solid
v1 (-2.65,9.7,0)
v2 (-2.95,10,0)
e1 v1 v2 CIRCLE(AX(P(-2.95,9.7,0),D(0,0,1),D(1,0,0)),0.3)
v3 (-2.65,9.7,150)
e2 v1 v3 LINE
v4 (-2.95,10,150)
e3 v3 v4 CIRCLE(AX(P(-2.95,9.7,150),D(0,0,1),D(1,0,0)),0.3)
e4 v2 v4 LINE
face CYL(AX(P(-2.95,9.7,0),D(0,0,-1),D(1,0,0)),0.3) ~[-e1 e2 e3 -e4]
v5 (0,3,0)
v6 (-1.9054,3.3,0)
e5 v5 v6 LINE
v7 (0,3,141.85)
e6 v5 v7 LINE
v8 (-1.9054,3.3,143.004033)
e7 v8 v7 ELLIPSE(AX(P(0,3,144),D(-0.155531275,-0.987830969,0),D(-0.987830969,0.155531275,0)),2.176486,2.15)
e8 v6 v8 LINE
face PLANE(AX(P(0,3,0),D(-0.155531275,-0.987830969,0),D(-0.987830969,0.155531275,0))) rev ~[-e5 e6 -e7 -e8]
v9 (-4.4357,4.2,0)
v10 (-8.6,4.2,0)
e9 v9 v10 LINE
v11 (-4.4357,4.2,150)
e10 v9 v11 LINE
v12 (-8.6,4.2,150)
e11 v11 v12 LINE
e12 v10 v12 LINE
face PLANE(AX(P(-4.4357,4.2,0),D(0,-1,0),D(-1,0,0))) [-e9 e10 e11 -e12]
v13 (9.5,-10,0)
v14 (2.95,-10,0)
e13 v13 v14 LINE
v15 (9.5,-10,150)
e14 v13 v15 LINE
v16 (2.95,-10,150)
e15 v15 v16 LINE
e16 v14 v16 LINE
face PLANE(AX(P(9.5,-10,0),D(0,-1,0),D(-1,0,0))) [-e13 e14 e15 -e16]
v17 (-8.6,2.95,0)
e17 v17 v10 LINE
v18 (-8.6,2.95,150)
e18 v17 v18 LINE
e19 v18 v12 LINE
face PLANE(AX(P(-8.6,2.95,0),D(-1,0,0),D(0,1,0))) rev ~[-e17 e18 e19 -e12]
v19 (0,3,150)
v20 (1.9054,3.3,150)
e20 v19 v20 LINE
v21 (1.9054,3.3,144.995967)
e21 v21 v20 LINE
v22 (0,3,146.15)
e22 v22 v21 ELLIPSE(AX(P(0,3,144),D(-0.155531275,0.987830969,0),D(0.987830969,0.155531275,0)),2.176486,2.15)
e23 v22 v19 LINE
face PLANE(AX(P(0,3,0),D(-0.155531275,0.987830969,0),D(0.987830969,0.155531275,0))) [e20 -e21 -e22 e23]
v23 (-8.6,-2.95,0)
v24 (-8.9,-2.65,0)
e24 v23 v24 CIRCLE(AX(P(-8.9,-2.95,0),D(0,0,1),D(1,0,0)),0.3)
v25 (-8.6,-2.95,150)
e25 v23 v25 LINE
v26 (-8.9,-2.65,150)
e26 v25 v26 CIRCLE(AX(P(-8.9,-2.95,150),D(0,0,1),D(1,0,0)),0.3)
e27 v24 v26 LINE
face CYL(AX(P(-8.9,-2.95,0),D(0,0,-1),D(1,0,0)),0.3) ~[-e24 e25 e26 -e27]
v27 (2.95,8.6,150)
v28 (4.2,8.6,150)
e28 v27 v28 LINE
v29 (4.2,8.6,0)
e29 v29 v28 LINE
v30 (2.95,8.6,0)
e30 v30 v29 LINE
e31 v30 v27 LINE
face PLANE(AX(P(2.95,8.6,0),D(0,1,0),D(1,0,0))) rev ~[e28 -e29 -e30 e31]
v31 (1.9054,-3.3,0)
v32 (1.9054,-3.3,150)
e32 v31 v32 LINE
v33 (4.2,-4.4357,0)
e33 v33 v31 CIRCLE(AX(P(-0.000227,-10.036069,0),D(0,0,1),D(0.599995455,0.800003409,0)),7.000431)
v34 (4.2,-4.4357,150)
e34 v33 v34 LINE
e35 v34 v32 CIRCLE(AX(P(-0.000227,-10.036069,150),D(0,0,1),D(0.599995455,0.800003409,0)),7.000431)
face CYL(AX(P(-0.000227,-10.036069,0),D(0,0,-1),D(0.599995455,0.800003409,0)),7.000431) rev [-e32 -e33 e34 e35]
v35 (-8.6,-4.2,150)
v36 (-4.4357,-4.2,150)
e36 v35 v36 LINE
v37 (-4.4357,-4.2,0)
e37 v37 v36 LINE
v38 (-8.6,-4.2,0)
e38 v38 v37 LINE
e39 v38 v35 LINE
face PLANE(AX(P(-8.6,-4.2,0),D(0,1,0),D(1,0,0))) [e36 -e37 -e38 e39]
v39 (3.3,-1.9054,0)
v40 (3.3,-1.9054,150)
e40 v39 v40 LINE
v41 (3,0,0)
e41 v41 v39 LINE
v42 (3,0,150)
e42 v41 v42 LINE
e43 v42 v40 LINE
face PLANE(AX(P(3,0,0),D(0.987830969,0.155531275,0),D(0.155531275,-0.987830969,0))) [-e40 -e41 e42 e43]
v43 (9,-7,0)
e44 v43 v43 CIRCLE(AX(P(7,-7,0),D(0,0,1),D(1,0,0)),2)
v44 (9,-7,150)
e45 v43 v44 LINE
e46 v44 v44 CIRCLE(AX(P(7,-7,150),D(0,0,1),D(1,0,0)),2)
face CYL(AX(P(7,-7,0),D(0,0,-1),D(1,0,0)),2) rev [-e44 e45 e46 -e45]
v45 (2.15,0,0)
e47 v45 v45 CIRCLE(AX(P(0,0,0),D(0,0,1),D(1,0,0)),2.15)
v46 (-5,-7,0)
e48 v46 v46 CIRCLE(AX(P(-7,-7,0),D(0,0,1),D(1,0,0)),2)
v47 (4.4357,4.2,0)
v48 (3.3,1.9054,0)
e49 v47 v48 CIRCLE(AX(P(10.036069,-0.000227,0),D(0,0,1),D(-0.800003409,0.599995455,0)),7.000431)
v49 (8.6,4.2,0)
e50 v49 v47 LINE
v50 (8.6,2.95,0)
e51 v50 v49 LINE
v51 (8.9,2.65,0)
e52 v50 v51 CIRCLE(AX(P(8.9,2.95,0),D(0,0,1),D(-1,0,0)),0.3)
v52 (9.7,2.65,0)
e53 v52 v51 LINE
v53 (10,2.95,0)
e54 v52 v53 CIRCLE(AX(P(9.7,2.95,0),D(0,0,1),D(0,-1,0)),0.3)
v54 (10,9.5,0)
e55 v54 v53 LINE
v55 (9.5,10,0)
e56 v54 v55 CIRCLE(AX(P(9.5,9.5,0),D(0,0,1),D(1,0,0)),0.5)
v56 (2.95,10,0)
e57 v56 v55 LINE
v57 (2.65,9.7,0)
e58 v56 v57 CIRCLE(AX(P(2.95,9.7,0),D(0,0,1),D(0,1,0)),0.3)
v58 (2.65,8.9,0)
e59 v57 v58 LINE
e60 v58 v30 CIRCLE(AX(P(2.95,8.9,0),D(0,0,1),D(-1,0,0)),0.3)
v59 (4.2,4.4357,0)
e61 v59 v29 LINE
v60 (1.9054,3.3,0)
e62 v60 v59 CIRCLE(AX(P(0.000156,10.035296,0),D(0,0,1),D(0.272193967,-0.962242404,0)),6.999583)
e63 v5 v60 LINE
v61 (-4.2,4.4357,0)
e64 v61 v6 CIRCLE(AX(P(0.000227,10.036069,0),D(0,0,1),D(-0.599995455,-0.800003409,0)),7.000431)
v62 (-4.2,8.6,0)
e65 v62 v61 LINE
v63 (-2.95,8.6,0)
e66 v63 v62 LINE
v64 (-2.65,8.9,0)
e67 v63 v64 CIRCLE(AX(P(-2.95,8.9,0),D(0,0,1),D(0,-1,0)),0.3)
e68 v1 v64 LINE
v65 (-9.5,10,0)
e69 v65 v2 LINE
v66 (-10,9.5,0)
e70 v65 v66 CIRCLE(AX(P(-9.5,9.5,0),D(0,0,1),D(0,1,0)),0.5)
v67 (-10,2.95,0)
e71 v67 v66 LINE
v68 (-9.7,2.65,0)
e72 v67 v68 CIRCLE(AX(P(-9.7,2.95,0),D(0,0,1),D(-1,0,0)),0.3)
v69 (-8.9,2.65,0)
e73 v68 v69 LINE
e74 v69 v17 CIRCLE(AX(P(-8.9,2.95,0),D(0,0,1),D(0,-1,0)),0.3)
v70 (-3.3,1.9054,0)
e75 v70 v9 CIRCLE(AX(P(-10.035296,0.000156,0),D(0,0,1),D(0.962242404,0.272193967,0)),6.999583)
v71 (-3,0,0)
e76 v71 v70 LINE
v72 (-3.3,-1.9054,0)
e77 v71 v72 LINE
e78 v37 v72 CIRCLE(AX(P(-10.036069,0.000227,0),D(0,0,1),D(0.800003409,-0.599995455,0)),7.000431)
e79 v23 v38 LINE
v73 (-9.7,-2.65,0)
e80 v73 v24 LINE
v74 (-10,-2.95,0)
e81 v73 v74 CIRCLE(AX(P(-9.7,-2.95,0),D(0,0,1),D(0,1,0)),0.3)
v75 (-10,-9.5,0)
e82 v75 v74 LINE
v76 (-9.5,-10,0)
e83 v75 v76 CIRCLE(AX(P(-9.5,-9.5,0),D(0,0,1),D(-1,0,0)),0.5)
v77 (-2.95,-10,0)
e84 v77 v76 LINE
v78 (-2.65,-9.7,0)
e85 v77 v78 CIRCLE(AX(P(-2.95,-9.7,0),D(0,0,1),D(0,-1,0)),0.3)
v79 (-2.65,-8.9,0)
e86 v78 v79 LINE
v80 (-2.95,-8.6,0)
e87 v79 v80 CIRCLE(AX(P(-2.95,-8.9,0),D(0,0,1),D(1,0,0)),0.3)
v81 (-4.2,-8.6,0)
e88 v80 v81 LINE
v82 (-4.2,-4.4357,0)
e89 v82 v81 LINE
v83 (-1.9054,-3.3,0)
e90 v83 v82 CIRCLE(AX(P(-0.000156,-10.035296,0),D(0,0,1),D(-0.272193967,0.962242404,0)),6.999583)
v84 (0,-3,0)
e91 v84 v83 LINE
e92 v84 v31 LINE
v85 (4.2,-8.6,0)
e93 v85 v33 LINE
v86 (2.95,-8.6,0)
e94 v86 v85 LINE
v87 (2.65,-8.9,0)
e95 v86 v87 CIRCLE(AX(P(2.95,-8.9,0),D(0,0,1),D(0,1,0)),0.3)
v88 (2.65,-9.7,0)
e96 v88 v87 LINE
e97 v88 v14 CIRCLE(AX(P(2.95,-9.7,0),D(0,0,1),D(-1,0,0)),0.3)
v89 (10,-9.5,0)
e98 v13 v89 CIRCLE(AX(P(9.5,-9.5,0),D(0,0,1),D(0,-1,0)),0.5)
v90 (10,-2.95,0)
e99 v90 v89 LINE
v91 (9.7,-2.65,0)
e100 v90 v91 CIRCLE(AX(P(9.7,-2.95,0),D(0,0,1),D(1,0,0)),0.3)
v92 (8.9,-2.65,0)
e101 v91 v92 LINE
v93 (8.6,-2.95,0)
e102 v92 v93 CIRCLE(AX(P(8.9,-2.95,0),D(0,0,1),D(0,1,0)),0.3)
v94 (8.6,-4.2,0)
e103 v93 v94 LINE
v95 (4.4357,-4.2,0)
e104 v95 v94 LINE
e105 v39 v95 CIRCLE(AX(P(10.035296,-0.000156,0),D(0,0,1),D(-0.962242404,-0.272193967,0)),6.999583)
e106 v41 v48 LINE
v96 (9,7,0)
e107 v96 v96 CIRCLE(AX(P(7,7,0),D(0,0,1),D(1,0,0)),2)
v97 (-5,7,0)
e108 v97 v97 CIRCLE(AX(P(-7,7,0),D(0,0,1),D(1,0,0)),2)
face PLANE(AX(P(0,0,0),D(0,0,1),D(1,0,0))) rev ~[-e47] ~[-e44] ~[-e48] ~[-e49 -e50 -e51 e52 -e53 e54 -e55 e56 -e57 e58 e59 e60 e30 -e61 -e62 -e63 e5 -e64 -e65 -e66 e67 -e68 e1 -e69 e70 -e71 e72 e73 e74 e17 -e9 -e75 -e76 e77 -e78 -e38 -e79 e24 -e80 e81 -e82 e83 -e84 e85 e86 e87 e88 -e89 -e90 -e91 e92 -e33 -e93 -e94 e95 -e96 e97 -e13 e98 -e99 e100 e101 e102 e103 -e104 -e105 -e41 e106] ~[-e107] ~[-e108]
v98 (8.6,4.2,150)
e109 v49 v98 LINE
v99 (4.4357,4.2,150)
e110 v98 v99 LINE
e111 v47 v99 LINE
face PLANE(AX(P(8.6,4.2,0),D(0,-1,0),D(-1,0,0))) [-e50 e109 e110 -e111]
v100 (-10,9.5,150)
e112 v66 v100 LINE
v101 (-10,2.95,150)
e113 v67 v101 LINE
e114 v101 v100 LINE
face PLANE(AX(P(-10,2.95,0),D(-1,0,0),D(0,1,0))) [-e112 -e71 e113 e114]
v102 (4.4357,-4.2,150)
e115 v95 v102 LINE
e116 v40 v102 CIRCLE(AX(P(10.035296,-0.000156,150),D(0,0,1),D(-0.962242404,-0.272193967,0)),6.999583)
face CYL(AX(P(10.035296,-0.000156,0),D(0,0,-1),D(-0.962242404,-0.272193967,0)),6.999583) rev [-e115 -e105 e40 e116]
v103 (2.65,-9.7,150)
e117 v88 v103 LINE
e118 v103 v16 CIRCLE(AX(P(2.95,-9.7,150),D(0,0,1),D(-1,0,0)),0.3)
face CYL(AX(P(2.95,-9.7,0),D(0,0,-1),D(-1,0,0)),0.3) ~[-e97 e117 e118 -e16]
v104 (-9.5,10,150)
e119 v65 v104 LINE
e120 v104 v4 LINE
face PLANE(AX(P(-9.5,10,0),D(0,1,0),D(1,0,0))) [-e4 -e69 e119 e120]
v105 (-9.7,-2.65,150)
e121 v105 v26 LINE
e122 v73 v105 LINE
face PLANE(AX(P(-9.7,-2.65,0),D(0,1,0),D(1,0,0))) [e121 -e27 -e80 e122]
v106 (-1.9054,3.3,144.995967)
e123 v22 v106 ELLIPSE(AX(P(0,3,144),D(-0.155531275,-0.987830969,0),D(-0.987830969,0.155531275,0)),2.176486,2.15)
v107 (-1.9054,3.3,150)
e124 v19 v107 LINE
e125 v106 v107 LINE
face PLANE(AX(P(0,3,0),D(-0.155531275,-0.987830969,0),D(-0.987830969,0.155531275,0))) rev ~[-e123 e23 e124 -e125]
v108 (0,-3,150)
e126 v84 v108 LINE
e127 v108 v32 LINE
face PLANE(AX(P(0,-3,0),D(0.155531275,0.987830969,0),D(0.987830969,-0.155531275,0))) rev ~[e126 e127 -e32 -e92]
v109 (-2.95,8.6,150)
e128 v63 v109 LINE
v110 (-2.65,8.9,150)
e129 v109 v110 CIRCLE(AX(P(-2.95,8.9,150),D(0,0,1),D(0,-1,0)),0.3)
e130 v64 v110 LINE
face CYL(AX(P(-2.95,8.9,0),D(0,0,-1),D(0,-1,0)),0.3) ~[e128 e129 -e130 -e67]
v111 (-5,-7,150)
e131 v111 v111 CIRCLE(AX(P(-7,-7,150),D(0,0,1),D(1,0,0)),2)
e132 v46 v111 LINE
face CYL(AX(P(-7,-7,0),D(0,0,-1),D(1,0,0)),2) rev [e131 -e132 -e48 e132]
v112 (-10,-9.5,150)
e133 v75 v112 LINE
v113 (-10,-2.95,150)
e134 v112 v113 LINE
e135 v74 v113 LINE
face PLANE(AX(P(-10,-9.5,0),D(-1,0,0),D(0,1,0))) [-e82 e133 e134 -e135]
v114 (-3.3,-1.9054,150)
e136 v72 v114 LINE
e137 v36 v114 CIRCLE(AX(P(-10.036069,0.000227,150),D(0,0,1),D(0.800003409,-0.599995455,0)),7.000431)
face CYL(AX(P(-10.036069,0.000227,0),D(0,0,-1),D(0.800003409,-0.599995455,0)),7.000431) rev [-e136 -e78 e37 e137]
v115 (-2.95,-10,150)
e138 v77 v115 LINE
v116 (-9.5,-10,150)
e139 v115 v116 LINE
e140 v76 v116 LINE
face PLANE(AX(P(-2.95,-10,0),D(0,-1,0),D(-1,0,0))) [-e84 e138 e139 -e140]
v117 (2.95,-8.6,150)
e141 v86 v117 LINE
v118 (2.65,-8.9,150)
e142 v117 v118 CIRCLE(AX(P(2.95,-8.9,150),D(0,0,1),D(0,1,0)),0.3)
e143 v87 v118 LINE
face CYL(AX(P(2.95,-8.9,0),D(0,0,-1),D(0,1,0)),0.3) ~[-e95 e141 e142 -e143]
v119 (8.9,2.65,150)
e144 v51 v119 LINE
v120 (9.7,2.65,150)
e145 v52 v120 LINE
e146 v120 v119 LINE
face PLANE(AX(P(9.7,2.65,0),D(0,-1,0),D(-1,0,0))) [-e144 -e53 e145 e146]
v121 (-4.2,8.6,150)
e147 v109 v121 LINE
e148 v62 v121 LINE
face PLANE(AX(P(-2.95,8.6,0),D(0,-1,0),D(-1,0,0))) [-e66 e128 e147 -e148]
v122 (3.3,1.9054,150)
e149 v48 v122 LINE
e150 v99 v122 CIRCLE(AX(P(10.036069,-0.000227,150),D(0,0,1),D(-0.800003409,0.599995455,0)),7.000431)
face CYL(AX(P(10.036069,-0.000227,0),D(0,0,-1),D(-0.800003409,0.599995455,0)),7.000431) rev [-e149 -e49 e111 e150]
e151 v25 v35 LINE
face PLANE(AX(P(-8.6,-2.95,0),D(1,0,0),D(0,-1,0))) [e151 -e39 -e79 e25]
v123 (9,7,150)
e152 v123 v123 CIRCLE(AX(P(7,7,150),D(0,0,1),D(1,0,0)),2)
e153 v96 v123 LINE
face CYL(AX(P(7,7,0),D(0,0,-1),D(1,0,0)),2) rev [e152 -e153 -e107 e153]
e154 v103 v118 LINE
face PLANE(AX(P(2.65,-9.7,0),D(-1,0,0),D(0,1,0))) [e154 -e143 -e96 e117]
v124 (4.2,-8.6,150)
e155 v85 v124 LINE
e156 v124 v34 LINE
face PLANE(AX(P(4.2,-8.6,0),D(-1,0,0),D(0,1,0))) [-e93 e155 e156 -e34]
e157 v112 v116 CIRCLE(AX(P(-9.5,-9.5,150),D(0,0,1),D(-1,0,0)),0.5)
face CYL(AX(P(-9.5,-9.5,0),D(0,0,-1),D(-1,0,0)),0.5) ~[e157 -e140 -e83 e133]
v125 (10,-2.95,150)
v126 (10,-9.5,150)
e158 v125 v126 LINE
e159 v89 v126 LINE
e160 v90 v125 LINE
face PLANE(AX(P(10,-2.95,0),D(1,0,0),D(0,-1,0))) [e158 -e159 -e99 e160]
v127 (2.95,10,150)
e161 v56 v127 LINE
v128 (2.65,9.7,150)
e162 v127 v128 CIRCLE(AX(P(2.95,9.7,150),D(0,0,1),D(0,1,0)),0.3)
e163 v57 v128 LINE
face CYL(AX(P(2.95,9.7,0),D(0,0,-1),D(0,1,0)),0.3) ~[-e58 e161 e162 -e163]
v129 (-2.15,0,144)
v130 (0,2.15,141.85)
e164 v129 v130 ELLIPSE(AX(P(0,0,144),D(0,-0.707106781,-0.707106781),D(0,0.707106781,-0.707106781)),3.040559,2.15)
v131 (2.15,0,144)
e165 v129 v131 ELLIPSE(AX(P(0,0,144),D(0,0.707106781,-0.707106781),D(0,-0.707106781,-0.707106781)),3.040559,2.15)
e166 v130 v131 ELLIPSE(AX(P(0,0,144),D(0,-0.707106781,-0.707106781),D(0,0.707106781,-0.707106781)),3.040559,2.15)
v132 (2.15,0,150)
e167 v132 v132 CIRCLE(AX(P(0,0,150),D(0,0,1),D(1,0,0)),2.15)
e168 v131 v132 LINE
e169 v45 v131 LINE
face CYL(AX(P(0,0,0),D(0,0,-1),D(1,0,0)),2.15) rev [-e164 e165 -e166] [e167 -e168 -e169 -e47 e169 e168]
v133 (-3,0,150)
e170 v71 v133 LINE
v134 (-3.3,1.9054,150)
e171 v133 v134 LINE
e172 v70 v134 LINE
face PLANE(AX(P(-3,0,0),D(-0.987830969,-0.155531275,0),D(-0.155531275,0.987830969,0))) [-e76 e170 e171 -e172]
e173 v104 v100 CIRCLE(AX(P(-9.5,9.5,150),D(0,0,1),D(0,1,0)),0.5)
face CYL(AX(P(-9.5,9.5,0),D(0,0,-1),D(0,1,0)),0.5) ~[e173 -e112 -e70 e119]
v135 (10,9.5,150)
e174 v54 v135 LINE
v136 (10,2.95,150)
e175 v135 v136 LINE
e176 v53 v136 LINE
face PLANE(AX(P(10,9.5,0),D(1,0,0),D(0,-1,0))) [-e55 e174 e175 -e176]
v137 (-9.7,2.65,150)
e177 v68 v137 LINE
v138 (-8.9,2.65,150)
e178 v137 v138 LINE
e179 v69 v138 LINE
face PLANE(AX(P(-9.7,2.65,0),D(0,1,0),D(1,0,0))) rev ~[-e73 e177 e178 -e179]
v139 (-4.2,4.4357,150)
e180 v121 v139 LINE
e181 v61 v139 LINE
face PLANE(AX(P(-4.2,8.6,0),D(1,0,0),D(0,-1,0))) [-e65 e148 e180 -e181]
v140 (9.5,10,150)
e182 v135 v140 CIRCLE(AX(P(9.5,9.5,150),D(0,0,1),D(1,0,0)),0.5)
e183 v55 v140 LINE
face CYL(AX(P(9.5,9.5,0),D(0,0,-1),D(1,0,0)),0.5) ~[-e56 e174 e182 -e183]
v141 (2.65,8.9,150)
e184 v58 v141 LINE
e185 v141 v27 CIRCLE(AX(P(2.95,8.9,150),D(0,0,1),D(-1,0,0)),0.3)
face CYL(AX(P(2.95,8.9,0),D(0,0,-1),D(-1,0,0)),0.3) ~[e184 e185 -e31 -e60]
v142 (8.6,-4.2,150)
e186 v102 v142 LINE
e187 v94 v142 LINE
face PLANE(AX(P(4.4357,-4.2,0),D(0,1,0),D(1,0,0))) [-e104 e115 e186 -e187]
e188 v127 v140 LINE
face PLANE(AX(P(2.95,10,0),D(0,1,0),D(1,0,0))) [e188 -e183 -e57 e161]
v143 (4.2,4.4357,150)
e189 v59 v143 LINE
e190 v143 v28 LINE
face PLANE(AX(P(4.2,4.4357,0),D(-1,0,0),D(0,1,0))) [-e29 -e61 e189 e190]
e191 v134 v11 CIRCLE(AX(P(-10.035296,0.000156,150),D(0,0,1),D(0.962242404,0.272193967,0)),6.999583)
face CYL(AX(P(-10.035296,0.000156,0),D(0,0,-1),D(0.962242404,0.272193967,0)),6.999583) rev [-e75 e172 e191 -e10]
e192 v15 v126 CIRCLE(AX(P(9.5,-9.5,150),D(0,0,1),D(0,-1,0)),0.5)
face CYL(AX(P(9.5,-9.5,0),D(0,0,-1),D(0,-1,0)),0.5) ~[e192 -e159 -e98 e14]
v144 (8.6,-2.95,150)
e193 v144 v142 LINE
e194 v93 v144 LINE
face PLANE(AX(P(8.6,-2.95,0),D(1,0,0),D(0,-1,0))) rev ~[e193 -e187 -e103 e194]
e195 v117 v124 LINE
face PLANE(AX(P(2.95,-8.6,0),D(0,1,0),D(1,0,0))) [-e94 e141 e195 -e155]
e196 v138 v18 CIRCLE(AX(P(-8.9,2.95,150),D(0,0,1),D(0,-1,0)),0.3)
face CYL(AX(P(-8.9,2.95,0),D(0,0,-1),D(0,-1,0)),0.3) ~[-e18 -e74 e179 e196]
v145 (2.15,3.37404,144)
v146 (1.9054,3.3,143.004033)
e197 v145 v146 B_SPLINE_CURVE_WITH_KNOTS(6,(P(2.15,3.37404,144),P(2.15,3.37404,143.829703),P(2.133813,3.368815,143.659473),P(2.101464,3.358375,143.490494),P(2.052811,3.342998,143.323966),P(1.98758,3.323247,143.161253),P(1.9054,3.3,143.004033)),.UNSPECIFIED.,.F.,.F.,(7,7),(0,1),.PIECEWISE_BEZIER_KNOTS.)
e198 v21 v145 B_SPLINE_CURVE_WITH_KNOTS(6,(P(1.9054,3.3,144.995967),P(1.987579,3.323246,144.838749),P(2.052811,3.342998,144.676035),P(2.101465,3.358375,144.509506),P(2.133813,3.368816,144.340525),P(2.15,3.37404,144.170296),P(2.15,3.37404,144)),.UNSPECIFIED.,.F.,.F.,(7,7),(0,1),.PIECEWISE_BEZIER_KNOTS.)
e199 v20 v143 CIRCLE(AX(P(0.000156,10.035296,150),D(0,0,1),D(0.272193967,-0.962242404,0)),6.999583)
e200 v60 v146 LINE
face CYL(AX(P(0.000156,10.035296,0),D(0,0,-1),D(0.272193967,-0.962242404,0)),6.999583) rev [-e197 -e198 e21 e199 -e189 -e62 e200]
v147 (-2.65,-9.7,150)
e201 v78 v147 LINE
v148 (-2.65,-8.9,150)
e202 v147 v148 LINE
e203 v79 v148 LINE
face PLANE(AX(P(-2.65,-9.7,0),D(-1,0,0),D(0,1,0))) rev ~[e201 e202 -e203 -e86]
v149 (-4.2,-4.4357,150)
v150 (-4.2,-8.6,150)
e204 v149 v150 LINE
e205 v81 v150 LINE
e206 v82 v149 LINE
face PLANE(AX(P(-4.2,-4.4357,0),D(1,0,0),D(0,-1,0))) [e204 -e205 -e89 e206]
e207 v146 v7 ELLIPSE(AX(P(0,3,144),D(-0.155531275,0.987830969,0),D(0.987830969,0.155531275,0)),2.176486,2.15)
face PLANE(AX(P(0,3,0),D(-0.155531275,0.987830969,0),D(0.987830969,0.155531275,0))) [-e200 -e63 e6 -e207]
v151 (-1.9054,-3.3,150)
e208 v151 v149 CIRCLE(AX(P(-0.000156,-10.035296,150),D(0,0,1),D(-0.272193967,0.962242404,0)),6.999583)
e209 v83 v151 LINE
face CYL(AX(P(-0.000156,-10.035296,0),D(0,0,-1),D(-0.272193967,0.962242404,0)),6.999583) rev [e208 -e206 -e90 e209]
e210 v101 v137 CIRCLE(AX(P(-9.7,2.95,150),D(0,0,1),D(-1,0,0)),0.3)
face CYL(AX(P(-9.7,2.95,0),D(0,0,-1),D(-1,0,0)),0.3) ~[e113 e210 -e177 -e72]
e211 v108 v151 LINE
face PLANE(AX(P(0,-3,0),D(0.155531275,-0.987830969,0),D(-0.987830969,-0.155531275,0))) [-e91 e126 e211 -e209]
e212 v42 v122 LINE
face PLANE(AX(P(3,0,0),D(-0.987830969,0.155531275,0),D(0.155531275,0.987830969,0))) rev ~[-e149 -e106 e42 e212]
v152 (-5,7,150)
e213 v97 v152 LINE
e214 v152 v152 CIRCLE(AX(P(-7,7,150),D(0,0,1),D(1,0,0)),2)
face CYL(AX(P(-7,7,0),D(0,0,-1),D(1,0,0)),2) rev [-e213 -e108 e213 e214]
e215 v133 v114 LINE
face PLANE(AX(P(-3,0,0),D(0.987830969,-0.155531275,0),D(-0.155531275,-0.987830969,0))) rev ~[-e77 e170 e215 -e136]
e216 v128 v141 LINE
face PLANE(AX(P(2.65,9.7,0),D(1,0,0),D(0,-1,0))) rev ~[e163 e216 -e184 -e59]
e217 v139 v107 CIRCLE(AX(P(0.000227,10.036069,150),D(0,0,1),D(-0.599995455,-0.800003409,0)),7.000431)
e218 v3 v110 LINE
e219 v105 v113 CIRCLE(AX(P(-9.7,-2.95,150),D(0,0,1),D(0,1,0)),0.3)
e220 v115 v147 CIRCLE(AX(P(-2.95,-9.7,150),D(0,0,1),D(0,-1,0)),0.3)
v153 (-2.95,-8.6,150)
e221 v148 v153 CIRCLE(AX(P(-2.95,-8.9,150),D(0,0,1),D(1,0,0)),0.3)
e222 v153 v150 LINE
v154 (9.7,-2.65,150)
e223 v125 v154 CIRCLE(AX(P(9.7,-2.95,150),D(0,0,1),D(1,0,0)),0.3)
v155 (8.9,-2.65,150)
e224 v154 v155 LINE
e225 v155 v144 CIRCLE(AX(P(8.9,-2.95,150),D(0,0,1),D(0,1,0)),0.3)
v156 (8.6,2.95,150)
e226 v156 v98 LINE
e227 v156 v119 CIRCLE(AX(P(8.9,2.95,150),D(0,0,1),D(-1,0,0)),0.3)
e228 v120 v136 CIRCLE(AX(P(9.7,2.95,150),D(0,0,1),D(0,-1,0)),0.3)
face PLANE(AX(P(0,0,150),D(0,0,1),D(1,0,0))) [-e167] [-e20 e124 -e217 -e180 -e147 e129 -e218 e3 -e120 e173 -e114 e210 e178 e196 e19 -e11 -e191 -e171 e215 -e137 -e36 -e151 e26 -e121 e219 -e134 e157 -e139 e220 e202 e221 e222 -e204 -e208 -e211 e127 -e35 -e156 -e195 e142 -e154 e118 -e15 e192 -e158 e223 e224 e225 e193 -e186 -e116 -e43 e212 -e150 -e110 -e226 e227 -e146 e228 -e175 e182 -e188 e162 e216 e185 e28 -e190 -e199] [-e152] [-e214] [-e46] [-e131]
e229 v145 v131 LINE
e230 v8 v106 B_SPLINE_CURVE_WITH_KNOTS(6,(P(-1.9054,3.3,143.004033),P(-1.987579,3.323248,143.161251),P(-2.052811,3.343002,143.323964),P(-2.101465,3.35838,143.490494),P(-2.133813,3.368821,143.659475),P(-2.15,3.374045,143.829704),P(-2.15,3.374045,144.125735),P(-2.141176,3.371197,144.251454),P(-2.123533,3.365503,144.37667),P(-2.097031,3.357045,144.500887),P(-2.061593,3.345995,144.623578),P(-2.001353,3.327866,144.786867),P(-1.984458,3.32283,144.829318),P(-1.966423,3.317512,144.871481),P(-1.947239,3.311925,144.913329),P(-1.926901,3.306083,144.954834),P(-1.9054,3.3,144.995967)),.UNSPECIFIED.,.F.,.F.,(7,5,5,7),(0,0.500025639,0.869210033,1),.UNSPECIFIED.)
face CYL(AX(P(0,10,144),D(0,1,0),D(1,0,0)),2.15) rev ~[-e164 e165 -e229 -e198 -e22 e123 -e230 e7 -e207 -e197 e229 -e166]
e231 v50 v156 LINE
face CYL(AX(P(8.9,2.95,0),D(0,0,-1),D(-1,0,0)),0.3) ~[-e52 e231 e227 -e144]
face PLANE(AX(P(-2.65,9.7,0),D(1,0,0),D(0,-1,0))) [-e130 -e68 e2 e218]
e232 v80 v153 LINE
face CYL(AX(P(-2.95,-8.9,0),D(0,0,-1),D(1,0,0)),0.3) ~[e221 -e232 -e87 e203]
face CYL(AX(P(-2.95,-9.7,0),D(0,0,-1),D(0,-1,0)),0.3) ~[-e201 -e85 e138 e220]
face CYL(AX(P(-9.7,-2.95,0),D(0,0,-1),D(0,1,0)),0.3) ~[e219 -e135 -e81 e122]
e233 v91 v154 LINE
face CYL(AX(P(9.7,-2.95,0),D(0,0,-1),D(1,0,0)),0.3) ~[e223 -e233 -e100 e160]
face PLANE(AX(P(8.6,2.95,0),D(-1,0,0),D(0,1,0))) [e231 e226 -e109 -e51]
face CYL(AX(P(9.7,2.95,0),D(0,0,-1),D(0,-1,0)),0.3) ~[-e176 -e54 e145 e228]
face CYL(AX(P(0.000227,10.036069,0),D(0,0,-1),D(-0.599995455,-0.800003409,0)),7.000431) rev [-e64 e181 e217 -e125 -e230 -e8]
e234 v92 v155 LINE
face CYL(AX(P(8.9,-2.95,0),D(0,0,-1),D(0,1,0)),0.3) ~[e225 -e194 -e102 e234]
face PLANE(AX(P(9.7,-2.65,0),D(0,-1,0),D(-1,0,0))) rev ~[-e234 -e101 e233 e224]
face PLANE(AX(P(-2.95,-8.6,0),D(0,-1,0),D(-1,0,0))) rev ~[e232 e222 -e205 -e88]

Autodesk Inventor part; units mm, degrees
ref_plane "YZ Plane" through (0, 0, 0) normal (1, 0, 0) x (0, 1, 0)
ref_plane "XZ Plane" through (0, 0, 0) normal (0, 1, 0) x (-1, 0, 0)
ref_plane "XY Plane" through (0, 0, 0) normal (0, 0, 1) x (1, 0, 0)
sketch "Sketch1" plane through (0, 0, 0) normal (0, 0, 1) x (1, 0, 0)
  line L0 (0, 0) -> (12.2143, 12.2143) construction
  line L1 (0, 0) -> (10, 0) construction
  circle A0 centre (0, 0) radius 2.15
  circle A1 centre (7, 7) radius 2
  circle A2 centre (-7, 7) radius 2
  circle A3 centre (-7, -7) radius 2
  circle A4 centre (7, -7) radius 2
  line L2 (2.95, 10) -> (9.5, 10)
  line L3 (10, 9.5) -> (10, 2.95)
  line L4 (9.7, 2.65) -> (8.9, 2.65)
  line L5 (8.6, 2.95) -> (8.6, 4.2)
  line L6 (4.2, 4.4357) -> (4.2, 8.6)
  line L7 (2.65, 9.7) -> (2.65, 8.9)
  line L8 (2.95, 8.6) -> (4.2, 8.6)
  line L9 (0, 14.2934) -> (0, -14.2934) construction
  arc A5 (2.95, 10) -> (2.65, 9.7) centre (2.95, 9.7) ccw
  arc A6 (2.65, 8.9) -> (2.95, 8.6) centre (2.95, 8.9) ccw
  arc A7 (8.6, 2.95) -> (8.9, 2.65) centre (8.9, 2.95) ccw
  arc A8 (9.7, 2.65) -> (10, 2.95) centre (9.7, 2.95) ccw
  arc A9 (10, 9.5) -> (9.5, 10) centre (9.5, 9.5) ccw
  circle A10 centre (0, 7.1516) radius 5.0016 construction
  circle A11 centre (7.1516, 0) radius 5.0016 construction
  line L10 (8.6, 4.2) -> (4.4357, 4.2)
  line L11 (0, 3) -> (1.9054, 3.3)
  arc A12 (1.9054, 3.3) -> (4.2, 4.4357) centre (0, 10.0357) ccw
  line L12 (3, 0) -> (3.3, 1.9054)
  arc A13 (4.4357, 4.2) -> (3.3, 1.9054) centre (10.0357, 0) ccw
  line L13 (-3, 0) -> (-3.3, 1.9054)
  arc A14 (-3.3, 1.9054) -> (-4.4357, 4.2) centre (-10.0357, 0) ccw
  arc A15 (-4.2, 4.4357) -> (-1.9054, 3.3) centre (0, 10.0357) ccw
  line L14 (0, 3) -> (-1.9054, 3.3)
  line L15 (-4.4357, 4.2) -> (-8.6, 4.2)
  line L16 (-8.6, 2.95) -> (-8.6, 4.2)
  arc A16 (-8.9, 2.65) -> (-8.6, 2.95) centre (-8.9, 2.95) ccw
  line L17 (-9.7, 2.65) -> (-8.9, 2.65)
  arc A17 (-10, 2.95) -> (-9.7, 2.65) centre (-9.7, 2.95) ccw
  line L18 (-10, 2.95) -> (-10, 9.5)
  arc A18 (-9.5, 10) -> (-10, 9.5) centre (-9.5, 9.5) ccw
  line L19 (-9.5, 10) -> (-2.95, 10)
  line L20 (-4.2, 8.6) -> (-4.2, 4.4357)
  line L21 (-2.95, 8.6) -> (-4.2, 8.6)
  arc A19 (-2.95, 8.6) -> (-2.65, 8.9) centre (-2.95, 8.9) ccw
  line L22 (-2.65, 9.7) -> (-2.65, 8.9)
  arc A20 (-2.65, 9.7) -> (-2.95, 10) centre (-2.95, 9.7) ccw
  line L23 (0, -3) -> (-1.9054, -3.3)
  arc A21 (-1.9054, -3.3) -> (-4.2, -4.4357) centre (0, -10.0357) ccw
  arc A22 (-4.4357, -4.2) -> (-3.3, -1.9054) centre (-10.0357, 0) ccw
  line L24 (-3, 0) -> (-3.3, -1.9054)
  line L25 (-4.2, -4.4357) -> (-4.2, -8.6)
  line L26 (-2.95, -8.6) -> (-4.2, -8.6)
  arc A23 (-2.65, -8.9) -> (-2.95, -8.6) centre (-2.95, -8.9) ccw
  line L27 (-2.65, -9.7) -> (-2.65, -8.9)
  arc A24 (-2.95, -10) -> (-2.65, -9.7) centre (-2.95, -9.7) ccw
  line L28 (-2.95, -10) -> (-9.5, -10)
  arc A25 (-10, -9.5) -> (-9.5, -10) centre (-9.5, -9.5) ccw
  line L29 (-10, -9.5) -> (-10, -2.95)
  line L30 (-8.6, -4.2) -> (-4.4357, -4.2)
  line L31 (-8.6, -2.95) -> (-8.6, -4.2)
  arc A26 (-8.6, -2.95) -> (-8.9, -2.65) centre (-8.9, -2.95) ccw
  line L32 (-9.7, -2.65) -> (-8.9, -2.65)
  arc A27 (-9.7, -2.65) -> (-10, -2.95) centre (-9.7, -2.95) ccw
  line L33 (3, 0) -> (3.3, -1.9054)
  arc A28 (3.3, -1.9054) -> (4.4357, -4.2) centre (10.0357, 0) ccw
  arc A29 (4.2, -4.4357) -> (1.9054, -3.3) centre (0, -10.0357) ccw
  line L34 (0, -3) -> (1.9054, -3.3)
  line L35 (4.4357, -4.2) -> (8.6, -4.2)
  line L36 (8.6, -2.95) -> (8.6, -4.2)
  arc A30 (8.9, -2.65) -> (8.6, -2.95) centre (8.9, -2.95) ccw
  line L37 (9.7, -2.65) -> (8.9, -2.65)
  arc A31 (10, -2.95) -> (9.7, -2.65) centre (9.7, -2.95) ccw
  line L38 (10, -2.95) -> (10, -9.5)
  arc A32 (9.5, -10) -> (10, -9.5) centre (9.5, -9.5) ccw
  line L39 (9.5, -10) -> (2.95, -10)
  line L40 (4.2, -8.6) -> (4.2, -4.4357)
  line L41 (2.95, -8.6) -> (4.2, -8.6)
  arc A33 (2.95, -8.6) -> (2.65, -8.9) centre (2.95, -8.9) ccw
  line L42 (2.65, -9.7) -> (2.65, -8.9)
  arc A34 (2.65, -9.7) -> (2.95, -10) centre (2.95, -9.7) ccw
  point P0 (10, 2.65)
  point P1 (8.6, 2.65)
  point P2 (-2.65, 10)
  point P3 (-2.65, 8.6)
  point P4 (-10, -2.65)
  point P5 (-8.6, -2.65)
  point P6 (2.65, -10)
  point P7 (2.65, -8.6)
  dimension "d1" = 45
  dimension "d2" = 4.3
  dimension "d3" = 4
  dimension "d6" = 360
  dimension "d9" = 2.65
  dimension "d10" = 4.2
  dimension "d11" = 1.4
  dimension "d12" = 7
  dimension "d13" = 10
  dimension "d14" = 10
  dimension "d15" = 1.4
  dimension "d16" = 2.65
  dimension "d18" = 0.3
  dimension "d19" = 0.5
  dimension "d22" = 4.2
  dimension "d24" = 6.7
  dimension "d25" = 0.3
  dimension "d26" = 7
  dimension "d27" = 6.7
  dimension "d28" = 0.3
  dimension "d29" = 7
  dimension "d32" = 360
extrude "Extrusion1" add sketch "Sketch1" along normal blind 150
sketch "Sketch2" plane through (2.95, 10, 150) normal (0, 1, 0) x (1, 0, 0)
  line L0 (-2.95, 150) -> (-2.95, 0) projected
  circle A0 centre (-2.95, 6) radius 2.15
  dimension "d36" = 4.3
  dimension "d37" = 6
extrude "Extrusion2" cut sketch "Sketch2" against normal blind 10
ref_plane "Work Plane1" through (0, 0, 75) normal (0, 0, 1) x (1, 0, 0)
properties part number "Aluminum_Profile_2020"
